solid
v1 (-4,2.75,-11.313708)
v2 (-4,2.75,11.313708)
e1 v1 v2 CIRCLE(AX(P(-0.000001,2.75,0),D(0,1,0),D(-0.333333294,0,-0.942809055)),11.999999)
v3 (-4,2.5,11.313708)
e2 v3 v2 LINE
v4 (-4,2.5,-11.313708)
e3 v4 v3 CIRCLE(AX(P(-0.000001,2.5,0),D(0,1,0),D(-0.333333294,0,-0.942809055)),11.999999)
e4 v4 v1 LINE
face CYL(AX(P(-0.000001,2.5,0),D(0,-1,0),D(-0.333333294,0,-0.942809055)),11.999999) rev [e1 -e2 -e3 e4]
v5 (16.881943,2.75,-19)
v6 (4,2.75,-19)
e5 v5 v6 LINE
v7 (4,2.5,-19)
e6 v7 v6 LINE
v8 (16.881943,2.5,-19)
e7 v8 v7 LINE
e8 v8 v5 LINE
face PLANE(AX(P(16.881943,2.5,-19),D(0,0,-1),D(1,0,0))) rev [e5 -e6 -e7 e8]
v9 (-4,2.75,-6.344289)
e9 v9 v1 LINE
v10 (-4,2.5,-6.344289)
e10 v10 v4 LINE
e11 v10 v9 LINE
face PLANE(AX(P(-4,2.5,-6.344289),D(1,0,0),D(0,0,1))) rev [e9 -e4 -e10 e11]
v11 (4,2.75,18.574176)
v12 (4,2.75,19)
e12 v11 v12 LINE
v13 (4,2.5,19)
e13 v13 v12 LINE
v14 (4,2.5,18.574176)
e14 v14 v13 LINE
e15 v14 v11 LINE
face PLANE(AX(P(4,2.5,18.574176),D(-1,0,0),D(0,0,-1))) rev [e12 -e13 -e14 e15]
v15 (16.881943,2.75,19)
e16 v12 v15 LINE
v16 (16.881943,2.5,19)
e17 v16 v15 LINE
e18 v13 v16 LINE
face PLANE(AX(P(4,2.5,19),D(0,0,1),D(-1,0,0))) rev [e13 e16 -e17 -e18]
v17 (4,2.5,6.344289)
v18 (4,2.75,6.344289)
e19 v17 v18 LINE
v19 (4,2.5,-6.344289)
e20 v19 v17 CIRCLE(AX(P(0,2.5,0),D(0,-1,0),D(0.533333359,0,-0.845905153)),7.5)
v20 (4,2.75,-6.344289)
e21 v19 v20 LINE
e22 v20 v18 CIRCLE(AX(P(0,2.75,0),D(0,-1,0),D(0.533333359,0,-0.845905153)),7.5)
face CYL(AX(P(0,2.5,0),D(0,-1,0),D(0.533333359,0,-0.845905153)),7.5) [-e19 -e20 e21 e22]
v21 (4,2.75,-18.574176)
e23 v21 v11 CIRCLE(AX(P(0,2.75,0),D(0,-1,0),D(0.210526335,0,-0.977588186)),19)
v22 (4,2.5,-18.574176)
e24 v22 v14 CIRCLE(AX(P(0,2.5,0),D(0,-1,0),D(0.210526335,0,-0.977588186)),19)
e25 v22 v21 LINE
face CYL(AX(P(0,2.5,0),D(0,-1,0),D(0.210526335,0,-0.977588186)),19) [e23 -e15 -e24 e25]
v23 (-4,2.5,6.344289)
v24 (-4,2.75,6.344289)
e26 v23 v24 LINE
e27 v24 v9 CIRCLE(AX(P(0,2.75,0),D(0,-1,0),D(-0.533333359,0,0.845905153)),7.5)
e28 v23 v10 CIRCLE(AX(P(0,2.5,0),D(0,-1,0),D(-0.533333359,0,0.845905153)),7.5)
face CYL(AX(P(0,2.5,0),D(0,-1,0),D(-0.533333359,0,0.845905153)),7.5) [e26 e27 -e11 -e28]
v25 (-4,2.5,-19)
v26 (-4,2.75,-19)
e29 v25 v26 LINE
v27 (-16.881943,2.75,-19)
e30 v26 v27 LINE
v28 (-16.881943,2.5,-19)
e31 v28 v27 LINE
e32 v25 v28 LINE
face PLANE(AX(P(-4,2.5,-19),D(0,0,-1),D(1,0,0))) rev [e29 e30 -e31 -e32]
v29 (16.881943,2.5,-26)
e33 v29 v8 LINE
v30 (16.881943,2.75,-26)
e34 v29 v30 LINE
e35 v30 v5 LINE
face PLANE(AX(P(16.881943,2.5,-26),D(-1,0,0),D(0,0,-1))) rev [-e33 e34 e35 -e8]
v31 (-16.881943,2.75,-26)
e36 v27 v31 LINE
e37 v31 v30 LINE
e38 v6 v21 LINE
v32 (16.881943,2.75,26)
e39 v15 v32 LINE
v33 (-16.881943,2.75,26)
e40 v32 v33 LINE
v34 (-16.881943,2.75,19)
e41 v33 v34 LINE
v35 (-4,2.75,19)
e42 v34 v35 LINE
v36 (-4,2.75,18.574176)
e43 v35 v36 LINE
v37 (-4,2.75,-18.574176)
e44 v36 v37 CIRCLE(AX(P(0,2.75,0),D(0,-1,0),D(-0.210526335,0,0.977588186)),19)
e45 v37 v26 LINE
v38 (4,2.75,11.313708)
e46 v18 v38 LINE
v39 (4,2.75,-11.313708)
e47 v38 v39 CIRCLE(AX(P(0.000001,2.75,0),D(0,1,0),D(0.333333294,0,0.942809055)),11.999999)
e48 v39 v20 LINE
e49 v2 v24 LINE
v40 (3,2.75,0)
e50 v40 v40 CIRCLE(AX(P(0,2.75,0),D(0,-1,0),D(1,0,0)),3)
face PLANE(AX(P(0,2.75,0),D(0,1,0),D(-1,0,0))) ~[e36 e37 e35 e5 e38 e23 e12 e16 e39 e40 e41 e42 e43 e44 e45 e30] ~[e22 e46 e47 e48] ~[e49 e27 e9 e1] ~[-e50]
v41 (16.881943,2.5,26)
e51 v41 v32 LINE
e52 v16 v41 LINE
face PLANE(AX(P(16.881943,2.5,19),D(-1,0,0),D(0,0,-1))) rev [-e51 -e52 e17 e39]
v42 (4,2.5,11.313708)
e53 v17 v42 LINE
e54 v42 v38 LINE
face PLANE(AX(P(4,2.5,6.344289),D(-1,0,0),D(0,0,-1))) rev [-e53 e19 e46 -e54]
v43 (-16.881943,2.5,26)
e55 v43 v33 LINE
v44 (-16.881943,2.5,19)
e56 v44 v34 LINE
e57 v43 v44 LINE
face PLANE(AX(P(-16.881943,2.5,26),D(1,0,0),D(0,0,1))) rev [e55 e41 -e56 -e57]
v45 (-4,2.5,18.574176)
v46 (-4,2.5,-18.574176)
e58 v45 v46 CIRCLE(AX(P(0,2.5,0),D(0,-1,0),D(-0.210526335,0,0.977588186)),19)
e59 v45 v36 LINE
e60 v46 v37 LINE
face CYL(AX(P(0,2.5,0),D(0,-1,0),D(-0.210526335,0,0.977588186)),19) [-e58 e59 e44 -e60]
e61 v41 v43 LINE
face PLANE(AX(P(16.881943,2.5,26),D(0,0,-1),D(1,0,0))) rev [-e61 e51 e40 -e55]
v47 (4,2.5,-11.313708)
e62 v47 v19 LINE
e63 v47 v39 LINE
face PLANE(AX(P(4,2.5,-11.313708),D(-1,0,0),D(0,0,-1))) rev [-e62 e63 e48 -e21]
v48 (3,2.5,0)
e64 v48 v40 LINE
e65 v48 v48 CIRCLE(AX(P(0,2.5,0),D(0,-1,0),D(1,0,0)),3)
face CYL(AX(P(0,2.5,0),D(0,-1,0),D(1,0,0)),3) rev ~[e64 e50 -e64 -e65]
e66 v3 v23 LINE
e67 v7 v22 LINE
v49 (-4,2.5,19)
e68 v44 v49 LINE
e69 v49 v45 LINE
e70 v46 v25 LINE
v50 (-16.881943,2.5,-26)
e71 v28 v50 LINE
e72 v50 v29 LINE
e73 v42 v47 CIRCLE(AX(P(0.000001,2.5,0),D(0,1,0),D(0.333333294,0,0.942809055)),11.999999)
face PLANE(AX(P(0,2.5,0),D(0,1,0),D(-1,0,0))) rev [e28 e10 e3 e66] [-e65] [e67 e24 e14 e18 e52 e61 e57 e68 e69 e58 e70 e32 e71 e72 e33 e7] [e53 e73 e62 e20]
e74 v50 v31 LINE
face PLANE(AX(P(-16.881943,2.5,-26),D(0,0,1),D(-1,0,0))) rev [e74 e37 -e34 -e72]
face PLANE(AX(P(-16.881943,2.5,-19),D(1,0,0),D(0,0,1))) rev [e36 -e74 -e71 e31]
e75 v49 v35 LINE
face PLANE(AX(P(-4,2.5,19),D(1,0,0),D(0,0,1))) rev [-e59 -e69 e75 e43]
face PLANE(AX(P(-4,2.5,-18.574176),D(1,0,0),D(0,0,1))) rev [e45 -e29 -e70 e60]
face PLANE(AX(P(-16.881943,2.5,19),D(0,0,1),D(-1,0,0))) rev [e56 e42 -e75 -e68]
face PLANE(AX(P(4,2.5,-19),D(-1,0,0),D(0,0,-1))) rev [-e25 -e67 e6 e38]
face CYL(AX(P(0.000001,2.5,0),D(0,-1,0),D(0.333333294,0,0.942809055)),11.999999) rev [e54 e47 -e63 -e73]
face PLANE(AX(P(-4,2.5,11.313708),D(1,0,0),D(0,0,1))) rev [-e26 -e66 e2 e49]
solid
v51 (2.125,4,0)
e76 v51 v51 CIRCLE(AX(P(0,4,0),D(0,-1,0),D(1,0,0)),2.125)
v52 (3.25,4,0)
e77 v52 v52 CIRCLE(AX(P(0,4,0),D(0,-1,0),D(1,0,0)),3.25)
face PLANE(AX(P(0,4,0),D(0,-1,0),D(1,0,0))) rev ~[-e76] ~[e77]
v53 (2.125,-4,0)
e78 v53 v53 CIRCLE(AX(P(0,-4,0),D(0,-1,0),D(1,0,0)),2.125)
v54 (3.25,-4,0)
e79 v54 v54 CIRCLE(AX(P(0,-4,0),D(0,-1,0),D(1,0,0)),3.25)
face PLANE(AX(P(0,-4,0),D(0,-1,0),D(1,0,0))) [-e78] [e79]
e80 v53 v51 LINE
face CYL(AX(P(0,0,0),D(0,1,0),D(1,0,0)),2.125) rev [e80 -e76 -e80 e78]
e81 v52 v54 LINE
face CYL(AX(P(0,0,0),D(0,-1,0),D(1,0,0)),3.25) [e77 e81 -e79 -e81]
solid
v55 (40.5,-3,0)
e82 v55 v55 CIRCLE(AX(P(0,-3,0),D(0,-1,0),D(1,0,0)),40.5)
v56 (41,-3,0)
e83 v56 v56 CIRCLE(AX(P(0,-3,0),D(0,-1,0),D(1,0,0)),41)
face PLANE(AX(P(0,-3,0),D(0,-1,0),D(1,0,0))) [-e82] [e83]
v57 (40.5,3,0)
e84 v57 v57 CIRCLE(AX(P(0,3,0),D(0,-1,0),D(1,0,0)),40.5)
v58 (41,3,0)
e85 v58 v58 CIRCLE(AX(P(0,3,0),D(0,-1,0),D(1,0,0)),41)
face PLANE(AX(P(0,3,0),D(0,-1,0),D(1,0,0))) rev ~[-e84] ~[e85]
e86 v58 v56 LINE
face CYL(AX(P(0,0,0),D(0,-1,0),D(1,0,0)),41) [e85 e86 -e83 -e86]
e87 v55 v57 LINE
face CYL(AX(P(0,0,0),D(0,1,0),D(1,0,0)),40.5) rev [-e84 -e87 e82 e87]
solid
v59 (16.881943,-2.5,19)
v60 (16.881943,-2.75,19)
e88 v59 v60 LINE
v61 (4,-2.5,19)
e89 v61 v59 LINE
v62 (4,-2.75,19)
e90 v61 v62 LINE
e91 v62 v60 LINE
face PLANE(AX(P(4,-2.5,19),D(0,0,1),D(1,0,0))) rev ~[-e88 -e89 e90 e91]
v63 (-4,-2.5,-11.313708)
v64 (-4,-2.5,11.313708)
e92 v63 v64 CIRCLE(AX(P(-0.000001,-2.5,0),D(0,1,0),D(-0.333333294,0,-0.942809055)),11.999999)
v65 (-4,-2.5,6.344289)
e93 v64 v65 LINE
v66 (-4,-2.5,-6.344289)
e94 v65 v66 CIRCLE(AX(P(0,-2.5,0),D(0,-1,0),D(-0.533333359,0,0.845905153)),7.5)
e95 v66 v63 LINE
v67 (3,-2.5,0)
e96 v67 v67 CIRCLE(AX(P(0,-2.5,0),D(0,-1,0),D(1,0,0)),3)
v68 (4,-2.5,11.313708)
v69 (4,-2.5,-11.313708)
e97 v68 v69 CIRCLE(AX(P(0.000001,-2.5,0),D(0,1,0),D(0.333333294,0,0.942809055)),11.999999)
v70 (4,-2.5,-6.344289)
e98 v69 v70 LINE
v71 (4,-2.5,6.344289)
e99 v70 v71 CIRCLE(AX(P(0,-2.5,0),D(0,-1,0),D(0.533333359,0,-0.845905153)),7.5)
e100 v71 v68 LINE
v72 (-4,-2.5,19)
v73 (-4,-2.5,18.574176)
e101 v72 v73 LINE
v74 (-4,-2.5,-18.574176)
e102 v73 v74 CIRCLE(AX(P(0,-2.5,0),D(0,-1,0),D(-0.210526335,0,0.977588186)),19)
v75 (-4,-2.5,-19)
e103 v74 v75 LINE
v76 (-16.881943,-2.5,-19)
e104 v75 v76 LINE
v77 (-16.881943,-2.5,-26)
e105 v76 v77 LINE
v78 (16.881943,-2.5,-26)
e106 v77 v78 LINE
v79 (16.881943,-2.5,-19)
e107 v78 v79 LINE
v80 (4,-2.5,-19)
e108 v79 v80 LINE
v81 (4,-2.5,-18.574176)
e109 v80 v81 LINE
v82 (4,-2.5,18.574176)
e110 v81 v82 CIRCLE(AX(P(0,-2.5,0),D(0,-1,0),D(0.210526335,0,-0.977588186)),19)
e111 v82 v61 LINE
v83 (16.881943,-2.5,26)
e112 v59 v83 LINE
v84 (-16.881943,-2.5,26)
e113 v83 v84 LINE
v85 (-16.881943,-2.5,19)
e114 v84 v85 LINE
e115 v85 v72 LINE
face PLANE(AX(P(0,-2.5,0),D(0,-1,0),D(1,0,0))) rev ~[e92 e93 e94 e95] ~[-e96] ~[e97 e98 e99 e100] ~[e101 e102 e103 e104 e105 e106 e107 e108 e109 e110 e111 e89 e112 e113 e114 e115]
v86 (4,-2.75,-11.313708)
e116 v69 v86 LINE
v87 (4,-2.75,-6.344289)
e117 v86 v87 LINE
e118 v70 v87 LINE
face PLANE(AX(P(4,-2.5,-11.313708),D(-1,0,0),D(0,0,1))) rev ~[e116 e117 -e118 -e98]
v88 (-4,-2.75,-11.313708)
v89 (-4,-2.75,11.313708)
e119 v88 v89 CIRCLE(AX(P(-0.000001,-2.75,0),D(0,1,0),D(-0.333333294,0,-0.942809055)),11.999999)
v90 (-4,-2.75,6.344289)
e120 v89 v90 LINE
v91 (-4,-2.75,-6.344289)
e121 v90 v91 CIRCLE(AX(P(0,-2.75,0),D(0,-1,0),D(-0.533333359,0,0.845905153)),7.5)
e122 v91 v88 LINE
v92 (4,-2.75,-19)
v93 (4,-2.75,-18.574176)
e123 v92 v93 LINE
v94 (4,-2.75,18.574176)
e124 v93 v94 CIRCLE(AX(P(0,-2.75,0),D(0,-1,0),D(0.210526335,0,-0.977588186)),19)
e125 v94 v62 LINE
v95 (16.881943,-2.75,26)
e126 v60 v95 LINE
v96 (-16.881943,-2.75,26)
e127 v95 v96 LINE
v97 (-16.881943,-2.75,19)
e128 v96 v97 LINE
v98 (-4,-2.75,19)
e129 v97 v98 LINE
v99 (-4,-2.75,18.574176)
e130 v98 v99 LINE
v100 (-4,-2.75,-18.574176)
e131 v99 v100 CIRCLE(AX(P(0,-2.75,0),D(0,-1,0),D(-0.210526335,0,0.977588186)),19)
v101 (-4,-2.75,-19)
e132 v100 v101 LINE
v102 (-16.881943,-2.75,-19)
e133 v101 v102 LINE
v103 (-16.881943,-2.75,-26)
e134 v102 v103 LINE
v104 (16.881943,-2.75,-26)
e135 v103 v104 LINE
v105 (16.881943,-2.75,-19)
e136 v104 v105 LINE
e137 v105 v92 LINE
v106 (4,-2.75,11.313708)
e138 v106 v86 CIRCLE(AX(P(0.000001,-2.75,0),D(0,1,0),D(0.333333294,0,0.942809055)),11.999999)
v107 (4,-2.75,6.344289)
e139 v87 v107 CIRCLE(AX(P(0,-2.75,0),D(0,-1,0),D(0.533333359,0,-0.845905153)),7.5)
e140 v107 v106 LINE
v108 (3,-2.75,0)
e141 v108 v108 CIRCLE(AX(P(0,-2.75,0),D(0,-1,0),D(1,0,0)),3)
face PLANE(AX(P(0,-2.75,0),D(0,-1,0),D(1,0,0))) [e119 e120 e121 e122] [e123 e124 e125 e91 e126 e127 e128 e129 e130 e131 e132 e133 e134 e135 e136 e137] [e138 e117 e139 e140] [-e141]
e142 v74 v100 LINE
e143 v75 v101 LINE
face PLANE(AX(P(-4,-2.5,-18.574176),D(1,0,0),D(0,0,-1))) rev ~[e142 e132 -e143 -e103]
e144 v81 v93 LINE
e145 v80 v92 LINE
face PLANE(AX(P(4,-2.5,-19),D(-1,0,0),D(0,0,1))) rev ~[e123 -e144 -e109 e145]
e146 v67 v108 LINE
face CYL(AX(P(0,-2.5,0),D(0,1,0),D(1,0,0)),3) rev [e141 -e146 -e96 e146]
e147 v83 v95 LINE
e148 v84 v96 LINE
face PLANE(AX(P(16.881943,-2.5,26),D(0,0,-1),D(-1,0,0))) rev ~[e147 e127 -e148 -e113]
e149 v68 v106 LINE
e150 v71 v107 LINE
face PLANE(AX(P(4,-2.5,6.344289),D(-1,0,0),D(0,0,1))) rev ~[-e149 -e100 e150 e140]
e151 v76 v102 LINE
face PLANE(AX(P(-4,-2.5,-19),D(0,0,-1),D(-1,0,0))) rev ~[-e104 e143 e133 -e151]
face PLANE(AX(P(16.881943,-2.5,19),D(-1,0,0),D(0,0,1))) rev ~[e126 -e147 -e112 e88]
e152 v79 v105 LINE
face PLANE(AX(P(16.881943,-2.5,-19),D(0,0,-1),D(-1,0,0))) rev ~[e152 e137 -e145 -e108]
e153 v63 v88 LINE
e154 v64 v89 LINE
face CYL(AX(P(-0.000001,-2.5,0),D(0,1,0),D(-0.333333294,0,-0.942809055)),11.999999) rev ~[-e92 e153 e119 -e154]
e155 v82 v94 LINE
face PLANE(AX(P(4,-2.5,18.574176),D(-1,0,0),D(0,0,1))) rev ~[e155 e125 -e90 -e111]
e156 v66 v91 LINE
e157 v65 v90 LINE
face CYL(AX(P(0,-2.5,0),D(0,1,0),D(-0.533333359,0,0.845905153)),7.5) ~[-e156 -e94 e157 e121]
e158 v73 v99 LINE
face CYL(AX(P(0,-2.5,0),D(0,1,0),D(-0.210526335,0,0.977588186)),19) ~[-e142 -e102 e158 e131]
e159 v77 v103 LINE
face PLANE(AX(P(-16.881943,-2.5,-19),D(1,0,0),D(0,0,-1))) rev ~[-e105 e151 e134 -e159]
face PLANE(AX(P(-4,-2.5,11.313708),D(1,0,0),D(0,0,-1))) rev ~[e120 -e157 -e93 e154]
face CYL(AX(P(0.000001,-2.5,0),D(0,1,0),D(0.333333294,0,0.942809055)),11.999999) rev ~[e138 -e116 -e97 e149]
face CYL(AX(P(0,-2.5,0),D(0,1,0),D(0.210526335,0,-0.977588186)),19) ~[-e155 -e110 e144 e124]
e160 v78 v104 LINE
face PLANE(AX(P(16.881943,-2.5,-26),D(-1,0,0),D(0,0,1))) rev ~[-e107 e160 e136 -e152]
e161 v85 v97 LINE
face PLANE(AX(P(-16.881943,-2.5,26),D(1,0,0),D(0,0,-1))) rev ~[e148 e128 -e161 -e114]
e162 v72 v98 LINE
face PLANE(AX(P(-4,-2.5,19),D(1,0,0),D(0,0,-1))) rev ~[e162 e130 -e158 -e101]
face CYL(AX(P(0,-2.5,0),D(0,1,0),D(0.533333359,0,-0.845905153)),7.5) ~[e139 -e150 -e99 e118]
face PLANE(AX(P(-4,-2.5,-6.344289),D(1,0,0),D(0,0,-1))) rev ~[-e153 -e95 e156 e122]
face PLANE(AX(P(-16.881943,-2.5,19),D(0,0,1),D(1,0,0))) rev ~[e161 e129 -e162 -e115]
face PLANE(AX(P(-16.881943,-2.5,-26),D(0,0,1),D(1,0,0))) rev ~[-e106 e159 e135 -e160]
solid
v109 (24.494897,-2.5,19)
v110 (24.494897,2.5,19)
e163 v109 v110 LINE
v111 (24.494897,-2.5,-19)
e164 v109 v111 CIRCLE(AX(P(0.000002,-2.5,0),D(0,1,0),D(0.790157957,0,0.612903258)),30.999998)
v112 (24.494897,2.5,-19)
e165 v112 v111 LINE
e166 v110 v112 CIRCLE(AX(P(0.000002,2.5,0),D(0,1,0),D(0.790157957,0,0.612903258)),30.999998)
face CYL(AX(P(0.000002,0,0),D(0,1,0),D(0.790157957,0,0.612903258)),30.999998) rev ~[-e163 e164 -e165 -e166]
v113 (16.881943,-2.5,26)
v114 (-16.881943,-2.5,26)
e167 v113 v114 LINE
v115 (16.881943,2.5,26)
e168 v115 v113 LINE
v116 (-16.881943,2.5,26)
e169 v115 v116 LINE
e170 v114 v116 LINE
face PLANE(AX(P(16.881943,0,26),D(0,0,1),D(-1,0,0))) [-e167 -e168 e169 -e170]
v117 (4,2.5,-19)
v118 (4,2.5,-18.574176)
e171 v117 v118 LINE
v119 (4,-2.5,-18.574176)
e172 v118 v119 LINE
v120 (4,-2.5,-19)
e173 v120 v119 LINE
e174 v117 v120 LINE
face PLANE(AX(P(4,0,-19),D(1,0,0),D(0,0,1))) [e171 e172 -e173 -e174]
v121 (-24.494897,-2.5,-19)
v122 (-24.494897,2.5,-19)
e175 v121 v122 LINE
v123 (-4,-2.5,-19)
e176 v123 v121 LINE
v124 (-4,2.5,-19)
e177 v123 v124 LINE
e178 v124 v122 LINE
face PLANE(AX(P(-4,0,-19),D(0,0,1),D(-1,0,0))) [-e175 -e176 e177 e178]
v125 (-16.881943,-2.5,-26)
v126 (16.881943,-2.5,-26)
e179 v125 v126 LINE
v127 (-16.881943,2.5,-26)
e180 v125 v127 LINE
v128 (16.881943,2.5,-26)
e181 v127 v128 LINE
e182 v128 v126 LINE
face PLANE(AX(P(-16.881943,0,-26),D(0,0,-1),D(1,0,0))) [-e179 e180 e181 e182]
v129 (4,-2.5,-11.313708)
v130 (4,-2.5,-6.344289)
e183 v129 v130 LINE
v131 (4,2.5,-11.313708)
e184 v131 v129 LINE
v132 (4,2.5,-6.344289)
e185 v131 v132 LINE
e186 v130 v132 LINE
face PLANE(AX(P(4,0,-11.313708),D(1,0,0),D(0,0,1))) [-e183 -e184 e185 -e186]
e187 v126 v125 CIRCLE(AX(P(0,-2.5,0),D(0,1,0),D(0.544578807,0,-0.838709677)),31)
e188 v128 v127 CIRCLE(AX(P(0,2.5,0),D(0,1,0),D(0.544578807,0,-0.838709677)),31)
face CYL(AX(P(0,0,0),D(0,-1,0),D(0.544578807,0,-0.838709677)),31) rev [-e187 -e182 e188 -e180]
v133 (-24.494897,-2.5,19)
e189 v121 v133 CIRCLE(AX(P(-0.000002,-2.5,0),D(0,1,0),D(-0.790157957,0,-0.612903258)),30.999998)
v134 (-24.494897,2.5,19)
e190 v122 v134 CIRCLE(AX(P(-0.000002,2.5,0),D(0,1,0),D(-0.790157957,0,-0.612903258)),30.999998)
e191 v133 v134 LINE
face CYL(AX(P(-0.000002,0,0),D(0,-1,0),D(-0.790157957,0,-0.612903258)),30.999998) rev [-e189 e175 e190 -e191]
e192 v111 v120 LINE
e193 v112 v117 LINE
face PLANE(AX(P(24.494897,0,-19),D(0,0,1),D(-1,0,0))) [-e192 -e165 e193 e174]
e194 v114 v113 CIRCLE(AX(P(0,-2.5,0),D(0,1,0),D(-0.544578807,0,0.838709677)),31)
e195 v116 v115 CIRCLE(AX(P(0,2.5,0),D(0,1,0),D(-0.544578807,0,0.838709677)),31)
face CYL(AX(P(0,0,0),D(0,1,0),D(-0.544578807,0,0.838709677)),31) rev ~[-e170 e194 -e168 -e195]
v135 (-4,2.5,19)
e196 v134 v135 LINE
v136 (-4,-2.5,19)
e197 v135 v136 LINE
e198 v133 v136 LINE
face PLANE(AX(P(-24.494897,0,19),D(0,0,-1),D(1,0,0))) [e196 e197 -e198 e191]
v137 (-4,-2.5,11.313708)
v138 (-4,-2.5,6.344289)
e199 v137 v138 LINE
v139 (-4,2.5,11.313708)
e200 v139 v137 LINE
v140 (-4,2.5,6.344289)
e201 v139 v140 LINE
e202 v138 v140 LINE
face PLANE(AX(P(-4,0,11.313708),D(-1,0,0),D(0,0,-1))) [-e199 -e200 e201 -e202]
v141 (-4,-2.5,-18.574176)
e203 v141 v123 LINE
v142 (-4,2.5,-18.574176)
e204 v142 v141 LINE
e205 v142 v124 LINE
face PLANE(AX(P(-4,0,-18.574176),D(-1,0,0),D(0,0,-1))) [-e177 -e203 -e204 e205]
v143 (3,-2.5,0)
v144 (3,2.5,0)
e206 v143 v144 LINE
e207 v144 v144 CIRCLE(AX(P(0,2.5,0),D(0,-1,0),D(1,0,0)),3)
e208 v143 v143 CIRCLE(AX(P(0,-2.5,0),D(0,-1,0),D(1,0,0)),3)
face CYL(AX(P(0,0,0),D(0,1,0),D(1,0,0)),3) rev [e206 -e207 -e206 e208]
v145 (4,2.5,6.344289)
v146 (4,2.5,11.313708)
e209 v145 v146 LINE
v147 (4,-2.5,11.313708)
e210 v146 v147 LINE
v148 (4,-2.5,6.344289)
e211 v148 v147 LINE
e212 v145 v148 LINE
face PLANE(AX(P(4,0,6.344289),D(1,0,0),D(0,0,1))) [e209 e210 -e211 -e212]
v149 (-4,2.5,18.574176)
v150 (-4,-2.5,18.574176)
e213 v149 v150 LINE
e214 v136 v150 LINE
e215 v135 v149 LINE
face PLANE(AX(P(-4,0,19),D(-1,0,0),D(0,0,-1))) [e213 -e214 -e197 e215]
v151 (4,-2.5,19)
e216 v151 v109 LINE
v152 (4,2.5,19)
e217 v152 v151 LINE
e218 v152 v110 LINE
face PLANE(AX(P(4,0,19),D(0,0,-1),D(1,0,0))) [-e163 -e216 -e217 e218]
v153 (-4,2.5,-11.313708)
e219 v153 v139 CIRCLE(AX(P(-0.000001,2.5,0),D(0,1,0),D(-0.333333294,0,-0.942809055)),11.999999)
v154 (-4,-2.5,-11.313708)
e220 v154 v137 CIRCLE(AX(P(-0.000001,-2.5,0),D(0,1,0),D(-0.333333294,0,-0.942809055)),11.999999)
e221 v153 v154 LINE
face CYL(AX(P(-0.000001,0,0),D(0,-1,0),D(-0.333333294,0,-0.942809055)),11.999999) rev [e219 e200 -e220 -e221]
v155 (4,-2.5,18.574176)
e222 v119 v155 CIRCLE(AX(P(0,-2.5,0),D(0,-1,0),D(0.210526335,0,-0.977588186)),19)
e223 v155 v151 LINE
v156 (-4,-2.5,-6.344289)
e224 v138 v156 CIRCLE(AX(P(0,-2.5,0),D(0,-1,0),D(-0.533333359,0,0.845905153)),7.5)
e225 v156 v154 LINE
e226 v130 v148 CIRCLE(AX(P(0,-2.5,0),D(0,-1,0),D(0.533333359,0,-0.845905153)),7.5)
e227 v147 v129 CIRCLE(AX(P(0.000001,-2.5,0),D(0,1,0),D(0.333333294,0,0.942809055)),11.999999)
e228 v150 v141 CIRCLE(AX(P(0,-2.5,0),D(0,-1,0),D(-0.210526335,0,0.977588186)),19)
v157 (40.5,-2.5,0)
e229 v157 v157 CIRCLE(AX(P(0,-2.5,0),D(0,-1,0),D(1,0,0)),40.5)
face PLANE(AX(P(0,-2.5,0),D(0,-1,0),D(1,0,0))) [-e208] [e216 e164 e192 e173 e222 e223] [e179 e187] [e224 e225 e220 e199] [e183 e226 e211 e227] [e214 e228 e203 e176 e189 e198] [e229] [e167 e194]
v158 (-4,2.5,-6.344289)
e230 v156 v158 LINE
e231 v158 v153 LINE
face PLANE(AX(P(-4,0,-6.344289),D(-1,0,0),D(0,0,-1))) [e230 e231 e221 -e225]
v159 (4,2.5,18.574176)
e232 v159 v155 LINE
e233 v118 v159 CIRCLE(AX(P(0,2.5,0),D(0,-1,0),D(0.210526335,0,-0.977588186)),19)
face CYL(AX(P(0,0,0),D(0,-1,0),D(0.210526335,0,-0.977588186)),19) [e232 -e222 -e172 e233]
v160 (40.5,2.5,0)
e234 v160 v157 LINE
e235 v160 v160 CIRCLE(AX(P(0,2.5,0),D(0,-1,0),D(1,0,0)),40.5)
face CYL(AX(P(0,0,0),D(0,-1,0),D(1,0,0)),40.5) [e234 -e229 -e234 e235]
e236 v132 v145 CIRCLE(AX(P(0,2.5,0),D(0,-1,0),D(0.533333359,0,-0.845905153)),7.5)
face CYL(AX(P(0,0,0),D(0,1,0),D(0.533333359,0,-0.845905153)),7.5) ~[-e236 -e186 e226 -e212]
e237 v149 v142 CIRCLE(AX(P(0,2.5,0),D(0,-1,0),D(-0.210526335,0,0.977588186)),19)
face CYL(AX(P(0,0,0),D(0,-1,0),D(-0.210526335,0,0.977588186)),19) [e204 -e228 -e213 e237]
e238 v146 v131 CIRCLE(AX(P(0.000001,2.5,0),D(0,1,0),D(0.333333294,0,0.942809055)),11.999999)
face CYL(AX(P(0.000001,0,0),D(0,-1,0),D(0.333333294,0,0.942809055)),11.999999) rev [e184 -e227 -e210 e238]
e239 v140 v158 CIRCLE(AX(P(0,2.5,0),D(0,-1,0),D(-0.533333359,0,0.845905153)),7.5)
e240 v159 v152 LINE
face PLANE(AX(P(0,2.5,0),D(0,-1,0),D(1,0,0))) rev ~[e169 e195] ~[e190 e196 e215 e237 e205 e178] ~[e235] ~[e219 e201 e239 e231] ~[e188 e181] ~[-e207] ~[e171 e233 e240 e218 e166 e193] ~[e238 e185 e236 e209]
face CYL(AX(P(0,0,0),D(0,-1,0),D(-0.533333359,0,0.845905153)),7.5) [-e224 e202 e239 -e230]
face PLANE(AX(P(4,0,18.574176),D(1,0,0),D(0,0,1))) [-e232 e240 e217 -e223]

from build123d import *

# Parameters (mm, degrees)
F0_R     = 40.5
F0_R_2   = 3
F1_DEPTH = 2.5
F2_R     = 41
F2_R_2   = 40.5
F3_DEPTH = 3
F4_R     = 3.25
F4_R_2   = 2.125
F5_DEPTH = 4
F6_R     = 3
F7_DEPTH = 0.25


with BuildPart() as f1:
    # F0 (on Front) → F1 (new body, symmetric)
    with BuildSketch(Plane.XZ):
        Circle(F0_R)
        with BuildLine():
            ThreePointArc((16.881943, -26), (0, -31), (-16.881943, -26))
            Line((-16.881943, -26), (16.881943, -26))
        make_face(mode=Mode.SUBTRACT)
        with BuildLine():
            Line((-4, 19), (-4, 18.574176))
            ThreePointArc((-4, 18.574176), (-19, 0), (-4, -18.574176))
            Line((-4, -18.574176), (-4, -19))
            Line((-4, -19), (-24.494897, -19))
            ThreePointArc((-24.494897, -19), (-31, 0), (-24.494897, 19))
            Line((-24.494897, 19), (-4, 19))
        make_face(mode=Mode.SUBTRACT)
        with BuildLine():
            ThreePointArc((-4, -11.313708), (-12, 0), (-4, 11.313708))
            Line((-4, 11.313708), (-4, 6.344289))
            ThreePointArc((-4, 6.344289), (-7.5, 0), (-4, -6.344289))
            Line((-4, -6.344289), (-4, -11.313708))
        make_face(mode=Mode.SUBTRACT)
        with BuildLine():
            ThreePointArc((-16.881943, 26), (0, 31), (16.881943, 26))
            Line((16.881943, 26), (-16.881943, 26))
        make_face(mode=Mode.SUBTRACT)
        Circle(F0_R_2, mode=Mode.SUBTRACT)
        with BuildLine():
            Line((4, -11.313708), (4, -6.344289))
            ThreePointArc((4, -6.344289), (7.5, 0), (4, 6.344289))
            Line((4, 6.344289), (4, 11.313708))
            ThreePointArc((4, 11.313708), (12, 0), (4, -11.313708))
        make_face(mode=Mode.SUBTRACT)
        with BuildLine():
            ThreePointArc((24.494897, 19), (31, 0), (24.494897, -19))
            Line((24.494897, -19), (4, -19))
            Line((4, -19), (4, -18.574176))
            ThreePointArc((4, -18.574176), (19, 0), (4, 18.574176))
            Line((4, 18.574176), (4, 19))
            Line((4, 19), (24.494897, 19))
        make_face(mode=Mode.SUBTRACT)
    extrude(amount=F1_DEPTH, both=True)


with BuildPart() as f3:
    # F2 (on Front) → F3 (new body, symmetric)
    with BuildSketch(Plane.XZ):
        Circle(F2_R)
        Circle(F2_R_2, mode=Mode.SUBTRACT)
    extrude(amount=F3_DEPTH, both=True)


with BuildPart() as f5:
    # F4 (on Front) → F5 (new body, symmetric)
    with BuildSketch(Plane.XZ):
        Circle(F4_R)
        Circle(F4_R_2, mode=Mode.SUBTRACT)
    extrude(amount=F5_DEPTH, both=True)


with BuildPart() as f7:
    # F6 (on face) → F7 (new body)
    with BuildSketch(Plane.XZ.offset(2.5)):
        with BuildLine():
            Line((16.881943, 26), (-16.881943, 26))
            Line((-16.881943, 26), (-16.881943, 19))
            Line((-16.881943, 19), (-4, 19))
            Line((-4, 19), (-4, 18.574176))
            ThreePointArc((-4, 18.574176), (-19, 0), (-4, -18.574176))
            Line((-4, -18.574176), (-4, -19))
            Line((-4, -19), (-16.881943, -19))
            Line((-16.881943, -19), (-16.881943, -26))
            Line((-16.881943, -26), (16.881943, -26))
            Line((16.881943, -26), (16.881943, -19))
            Line((16.881943, -19), (4, -19))
            Line((4, -19), (4, -18.574176))
            ThreePointArc((4, -18.574176), (19, 0), (4, 18.574176))
            Line((4, 18.574176), (4, 19))
            Line((4, 19), (16.881943, 19))
            Line((16.881943, 19), (16.881943, 26))
        make_face()
        with BuildLine():
            ThreePointArc((-4, -11.313708), (-12, 0), (-4, 11.313708))
            Line((-4, 11.313708), (-4, 6.344289))
            ThreePointArc((-4, 6.344289), (-7.5, 0), (-4, -6.344289))
            Line((-4, -6.344289), (-4, -11.313708))
        make_face(mode=Mode.SUBTRACT)
        Circle(F6_R, mode=Mode.SUBTRACT)
        with BuildLine():
            ThreePointArc((4, 11.313708), (12, 0), (4, -11.313708))
            Line((4, -11.313708), (4, -6.344289))
            ThreePointArc((4, -6.344289), (7.5, 0), (4, 6.344289))
            Line((4, 6.344289), (4, 11.313708))
        make_face(mode=Mode.SUBTRACT)
    extrude(amount=F7_DEPTH)


with BuildPart() as f8_1:
    # F8: instance of F7
    add(f7.part.mirror(Plane.XZ))


solid = Compound([f1.part, f3.part, f5.part, f7.part, f8_1.part])
